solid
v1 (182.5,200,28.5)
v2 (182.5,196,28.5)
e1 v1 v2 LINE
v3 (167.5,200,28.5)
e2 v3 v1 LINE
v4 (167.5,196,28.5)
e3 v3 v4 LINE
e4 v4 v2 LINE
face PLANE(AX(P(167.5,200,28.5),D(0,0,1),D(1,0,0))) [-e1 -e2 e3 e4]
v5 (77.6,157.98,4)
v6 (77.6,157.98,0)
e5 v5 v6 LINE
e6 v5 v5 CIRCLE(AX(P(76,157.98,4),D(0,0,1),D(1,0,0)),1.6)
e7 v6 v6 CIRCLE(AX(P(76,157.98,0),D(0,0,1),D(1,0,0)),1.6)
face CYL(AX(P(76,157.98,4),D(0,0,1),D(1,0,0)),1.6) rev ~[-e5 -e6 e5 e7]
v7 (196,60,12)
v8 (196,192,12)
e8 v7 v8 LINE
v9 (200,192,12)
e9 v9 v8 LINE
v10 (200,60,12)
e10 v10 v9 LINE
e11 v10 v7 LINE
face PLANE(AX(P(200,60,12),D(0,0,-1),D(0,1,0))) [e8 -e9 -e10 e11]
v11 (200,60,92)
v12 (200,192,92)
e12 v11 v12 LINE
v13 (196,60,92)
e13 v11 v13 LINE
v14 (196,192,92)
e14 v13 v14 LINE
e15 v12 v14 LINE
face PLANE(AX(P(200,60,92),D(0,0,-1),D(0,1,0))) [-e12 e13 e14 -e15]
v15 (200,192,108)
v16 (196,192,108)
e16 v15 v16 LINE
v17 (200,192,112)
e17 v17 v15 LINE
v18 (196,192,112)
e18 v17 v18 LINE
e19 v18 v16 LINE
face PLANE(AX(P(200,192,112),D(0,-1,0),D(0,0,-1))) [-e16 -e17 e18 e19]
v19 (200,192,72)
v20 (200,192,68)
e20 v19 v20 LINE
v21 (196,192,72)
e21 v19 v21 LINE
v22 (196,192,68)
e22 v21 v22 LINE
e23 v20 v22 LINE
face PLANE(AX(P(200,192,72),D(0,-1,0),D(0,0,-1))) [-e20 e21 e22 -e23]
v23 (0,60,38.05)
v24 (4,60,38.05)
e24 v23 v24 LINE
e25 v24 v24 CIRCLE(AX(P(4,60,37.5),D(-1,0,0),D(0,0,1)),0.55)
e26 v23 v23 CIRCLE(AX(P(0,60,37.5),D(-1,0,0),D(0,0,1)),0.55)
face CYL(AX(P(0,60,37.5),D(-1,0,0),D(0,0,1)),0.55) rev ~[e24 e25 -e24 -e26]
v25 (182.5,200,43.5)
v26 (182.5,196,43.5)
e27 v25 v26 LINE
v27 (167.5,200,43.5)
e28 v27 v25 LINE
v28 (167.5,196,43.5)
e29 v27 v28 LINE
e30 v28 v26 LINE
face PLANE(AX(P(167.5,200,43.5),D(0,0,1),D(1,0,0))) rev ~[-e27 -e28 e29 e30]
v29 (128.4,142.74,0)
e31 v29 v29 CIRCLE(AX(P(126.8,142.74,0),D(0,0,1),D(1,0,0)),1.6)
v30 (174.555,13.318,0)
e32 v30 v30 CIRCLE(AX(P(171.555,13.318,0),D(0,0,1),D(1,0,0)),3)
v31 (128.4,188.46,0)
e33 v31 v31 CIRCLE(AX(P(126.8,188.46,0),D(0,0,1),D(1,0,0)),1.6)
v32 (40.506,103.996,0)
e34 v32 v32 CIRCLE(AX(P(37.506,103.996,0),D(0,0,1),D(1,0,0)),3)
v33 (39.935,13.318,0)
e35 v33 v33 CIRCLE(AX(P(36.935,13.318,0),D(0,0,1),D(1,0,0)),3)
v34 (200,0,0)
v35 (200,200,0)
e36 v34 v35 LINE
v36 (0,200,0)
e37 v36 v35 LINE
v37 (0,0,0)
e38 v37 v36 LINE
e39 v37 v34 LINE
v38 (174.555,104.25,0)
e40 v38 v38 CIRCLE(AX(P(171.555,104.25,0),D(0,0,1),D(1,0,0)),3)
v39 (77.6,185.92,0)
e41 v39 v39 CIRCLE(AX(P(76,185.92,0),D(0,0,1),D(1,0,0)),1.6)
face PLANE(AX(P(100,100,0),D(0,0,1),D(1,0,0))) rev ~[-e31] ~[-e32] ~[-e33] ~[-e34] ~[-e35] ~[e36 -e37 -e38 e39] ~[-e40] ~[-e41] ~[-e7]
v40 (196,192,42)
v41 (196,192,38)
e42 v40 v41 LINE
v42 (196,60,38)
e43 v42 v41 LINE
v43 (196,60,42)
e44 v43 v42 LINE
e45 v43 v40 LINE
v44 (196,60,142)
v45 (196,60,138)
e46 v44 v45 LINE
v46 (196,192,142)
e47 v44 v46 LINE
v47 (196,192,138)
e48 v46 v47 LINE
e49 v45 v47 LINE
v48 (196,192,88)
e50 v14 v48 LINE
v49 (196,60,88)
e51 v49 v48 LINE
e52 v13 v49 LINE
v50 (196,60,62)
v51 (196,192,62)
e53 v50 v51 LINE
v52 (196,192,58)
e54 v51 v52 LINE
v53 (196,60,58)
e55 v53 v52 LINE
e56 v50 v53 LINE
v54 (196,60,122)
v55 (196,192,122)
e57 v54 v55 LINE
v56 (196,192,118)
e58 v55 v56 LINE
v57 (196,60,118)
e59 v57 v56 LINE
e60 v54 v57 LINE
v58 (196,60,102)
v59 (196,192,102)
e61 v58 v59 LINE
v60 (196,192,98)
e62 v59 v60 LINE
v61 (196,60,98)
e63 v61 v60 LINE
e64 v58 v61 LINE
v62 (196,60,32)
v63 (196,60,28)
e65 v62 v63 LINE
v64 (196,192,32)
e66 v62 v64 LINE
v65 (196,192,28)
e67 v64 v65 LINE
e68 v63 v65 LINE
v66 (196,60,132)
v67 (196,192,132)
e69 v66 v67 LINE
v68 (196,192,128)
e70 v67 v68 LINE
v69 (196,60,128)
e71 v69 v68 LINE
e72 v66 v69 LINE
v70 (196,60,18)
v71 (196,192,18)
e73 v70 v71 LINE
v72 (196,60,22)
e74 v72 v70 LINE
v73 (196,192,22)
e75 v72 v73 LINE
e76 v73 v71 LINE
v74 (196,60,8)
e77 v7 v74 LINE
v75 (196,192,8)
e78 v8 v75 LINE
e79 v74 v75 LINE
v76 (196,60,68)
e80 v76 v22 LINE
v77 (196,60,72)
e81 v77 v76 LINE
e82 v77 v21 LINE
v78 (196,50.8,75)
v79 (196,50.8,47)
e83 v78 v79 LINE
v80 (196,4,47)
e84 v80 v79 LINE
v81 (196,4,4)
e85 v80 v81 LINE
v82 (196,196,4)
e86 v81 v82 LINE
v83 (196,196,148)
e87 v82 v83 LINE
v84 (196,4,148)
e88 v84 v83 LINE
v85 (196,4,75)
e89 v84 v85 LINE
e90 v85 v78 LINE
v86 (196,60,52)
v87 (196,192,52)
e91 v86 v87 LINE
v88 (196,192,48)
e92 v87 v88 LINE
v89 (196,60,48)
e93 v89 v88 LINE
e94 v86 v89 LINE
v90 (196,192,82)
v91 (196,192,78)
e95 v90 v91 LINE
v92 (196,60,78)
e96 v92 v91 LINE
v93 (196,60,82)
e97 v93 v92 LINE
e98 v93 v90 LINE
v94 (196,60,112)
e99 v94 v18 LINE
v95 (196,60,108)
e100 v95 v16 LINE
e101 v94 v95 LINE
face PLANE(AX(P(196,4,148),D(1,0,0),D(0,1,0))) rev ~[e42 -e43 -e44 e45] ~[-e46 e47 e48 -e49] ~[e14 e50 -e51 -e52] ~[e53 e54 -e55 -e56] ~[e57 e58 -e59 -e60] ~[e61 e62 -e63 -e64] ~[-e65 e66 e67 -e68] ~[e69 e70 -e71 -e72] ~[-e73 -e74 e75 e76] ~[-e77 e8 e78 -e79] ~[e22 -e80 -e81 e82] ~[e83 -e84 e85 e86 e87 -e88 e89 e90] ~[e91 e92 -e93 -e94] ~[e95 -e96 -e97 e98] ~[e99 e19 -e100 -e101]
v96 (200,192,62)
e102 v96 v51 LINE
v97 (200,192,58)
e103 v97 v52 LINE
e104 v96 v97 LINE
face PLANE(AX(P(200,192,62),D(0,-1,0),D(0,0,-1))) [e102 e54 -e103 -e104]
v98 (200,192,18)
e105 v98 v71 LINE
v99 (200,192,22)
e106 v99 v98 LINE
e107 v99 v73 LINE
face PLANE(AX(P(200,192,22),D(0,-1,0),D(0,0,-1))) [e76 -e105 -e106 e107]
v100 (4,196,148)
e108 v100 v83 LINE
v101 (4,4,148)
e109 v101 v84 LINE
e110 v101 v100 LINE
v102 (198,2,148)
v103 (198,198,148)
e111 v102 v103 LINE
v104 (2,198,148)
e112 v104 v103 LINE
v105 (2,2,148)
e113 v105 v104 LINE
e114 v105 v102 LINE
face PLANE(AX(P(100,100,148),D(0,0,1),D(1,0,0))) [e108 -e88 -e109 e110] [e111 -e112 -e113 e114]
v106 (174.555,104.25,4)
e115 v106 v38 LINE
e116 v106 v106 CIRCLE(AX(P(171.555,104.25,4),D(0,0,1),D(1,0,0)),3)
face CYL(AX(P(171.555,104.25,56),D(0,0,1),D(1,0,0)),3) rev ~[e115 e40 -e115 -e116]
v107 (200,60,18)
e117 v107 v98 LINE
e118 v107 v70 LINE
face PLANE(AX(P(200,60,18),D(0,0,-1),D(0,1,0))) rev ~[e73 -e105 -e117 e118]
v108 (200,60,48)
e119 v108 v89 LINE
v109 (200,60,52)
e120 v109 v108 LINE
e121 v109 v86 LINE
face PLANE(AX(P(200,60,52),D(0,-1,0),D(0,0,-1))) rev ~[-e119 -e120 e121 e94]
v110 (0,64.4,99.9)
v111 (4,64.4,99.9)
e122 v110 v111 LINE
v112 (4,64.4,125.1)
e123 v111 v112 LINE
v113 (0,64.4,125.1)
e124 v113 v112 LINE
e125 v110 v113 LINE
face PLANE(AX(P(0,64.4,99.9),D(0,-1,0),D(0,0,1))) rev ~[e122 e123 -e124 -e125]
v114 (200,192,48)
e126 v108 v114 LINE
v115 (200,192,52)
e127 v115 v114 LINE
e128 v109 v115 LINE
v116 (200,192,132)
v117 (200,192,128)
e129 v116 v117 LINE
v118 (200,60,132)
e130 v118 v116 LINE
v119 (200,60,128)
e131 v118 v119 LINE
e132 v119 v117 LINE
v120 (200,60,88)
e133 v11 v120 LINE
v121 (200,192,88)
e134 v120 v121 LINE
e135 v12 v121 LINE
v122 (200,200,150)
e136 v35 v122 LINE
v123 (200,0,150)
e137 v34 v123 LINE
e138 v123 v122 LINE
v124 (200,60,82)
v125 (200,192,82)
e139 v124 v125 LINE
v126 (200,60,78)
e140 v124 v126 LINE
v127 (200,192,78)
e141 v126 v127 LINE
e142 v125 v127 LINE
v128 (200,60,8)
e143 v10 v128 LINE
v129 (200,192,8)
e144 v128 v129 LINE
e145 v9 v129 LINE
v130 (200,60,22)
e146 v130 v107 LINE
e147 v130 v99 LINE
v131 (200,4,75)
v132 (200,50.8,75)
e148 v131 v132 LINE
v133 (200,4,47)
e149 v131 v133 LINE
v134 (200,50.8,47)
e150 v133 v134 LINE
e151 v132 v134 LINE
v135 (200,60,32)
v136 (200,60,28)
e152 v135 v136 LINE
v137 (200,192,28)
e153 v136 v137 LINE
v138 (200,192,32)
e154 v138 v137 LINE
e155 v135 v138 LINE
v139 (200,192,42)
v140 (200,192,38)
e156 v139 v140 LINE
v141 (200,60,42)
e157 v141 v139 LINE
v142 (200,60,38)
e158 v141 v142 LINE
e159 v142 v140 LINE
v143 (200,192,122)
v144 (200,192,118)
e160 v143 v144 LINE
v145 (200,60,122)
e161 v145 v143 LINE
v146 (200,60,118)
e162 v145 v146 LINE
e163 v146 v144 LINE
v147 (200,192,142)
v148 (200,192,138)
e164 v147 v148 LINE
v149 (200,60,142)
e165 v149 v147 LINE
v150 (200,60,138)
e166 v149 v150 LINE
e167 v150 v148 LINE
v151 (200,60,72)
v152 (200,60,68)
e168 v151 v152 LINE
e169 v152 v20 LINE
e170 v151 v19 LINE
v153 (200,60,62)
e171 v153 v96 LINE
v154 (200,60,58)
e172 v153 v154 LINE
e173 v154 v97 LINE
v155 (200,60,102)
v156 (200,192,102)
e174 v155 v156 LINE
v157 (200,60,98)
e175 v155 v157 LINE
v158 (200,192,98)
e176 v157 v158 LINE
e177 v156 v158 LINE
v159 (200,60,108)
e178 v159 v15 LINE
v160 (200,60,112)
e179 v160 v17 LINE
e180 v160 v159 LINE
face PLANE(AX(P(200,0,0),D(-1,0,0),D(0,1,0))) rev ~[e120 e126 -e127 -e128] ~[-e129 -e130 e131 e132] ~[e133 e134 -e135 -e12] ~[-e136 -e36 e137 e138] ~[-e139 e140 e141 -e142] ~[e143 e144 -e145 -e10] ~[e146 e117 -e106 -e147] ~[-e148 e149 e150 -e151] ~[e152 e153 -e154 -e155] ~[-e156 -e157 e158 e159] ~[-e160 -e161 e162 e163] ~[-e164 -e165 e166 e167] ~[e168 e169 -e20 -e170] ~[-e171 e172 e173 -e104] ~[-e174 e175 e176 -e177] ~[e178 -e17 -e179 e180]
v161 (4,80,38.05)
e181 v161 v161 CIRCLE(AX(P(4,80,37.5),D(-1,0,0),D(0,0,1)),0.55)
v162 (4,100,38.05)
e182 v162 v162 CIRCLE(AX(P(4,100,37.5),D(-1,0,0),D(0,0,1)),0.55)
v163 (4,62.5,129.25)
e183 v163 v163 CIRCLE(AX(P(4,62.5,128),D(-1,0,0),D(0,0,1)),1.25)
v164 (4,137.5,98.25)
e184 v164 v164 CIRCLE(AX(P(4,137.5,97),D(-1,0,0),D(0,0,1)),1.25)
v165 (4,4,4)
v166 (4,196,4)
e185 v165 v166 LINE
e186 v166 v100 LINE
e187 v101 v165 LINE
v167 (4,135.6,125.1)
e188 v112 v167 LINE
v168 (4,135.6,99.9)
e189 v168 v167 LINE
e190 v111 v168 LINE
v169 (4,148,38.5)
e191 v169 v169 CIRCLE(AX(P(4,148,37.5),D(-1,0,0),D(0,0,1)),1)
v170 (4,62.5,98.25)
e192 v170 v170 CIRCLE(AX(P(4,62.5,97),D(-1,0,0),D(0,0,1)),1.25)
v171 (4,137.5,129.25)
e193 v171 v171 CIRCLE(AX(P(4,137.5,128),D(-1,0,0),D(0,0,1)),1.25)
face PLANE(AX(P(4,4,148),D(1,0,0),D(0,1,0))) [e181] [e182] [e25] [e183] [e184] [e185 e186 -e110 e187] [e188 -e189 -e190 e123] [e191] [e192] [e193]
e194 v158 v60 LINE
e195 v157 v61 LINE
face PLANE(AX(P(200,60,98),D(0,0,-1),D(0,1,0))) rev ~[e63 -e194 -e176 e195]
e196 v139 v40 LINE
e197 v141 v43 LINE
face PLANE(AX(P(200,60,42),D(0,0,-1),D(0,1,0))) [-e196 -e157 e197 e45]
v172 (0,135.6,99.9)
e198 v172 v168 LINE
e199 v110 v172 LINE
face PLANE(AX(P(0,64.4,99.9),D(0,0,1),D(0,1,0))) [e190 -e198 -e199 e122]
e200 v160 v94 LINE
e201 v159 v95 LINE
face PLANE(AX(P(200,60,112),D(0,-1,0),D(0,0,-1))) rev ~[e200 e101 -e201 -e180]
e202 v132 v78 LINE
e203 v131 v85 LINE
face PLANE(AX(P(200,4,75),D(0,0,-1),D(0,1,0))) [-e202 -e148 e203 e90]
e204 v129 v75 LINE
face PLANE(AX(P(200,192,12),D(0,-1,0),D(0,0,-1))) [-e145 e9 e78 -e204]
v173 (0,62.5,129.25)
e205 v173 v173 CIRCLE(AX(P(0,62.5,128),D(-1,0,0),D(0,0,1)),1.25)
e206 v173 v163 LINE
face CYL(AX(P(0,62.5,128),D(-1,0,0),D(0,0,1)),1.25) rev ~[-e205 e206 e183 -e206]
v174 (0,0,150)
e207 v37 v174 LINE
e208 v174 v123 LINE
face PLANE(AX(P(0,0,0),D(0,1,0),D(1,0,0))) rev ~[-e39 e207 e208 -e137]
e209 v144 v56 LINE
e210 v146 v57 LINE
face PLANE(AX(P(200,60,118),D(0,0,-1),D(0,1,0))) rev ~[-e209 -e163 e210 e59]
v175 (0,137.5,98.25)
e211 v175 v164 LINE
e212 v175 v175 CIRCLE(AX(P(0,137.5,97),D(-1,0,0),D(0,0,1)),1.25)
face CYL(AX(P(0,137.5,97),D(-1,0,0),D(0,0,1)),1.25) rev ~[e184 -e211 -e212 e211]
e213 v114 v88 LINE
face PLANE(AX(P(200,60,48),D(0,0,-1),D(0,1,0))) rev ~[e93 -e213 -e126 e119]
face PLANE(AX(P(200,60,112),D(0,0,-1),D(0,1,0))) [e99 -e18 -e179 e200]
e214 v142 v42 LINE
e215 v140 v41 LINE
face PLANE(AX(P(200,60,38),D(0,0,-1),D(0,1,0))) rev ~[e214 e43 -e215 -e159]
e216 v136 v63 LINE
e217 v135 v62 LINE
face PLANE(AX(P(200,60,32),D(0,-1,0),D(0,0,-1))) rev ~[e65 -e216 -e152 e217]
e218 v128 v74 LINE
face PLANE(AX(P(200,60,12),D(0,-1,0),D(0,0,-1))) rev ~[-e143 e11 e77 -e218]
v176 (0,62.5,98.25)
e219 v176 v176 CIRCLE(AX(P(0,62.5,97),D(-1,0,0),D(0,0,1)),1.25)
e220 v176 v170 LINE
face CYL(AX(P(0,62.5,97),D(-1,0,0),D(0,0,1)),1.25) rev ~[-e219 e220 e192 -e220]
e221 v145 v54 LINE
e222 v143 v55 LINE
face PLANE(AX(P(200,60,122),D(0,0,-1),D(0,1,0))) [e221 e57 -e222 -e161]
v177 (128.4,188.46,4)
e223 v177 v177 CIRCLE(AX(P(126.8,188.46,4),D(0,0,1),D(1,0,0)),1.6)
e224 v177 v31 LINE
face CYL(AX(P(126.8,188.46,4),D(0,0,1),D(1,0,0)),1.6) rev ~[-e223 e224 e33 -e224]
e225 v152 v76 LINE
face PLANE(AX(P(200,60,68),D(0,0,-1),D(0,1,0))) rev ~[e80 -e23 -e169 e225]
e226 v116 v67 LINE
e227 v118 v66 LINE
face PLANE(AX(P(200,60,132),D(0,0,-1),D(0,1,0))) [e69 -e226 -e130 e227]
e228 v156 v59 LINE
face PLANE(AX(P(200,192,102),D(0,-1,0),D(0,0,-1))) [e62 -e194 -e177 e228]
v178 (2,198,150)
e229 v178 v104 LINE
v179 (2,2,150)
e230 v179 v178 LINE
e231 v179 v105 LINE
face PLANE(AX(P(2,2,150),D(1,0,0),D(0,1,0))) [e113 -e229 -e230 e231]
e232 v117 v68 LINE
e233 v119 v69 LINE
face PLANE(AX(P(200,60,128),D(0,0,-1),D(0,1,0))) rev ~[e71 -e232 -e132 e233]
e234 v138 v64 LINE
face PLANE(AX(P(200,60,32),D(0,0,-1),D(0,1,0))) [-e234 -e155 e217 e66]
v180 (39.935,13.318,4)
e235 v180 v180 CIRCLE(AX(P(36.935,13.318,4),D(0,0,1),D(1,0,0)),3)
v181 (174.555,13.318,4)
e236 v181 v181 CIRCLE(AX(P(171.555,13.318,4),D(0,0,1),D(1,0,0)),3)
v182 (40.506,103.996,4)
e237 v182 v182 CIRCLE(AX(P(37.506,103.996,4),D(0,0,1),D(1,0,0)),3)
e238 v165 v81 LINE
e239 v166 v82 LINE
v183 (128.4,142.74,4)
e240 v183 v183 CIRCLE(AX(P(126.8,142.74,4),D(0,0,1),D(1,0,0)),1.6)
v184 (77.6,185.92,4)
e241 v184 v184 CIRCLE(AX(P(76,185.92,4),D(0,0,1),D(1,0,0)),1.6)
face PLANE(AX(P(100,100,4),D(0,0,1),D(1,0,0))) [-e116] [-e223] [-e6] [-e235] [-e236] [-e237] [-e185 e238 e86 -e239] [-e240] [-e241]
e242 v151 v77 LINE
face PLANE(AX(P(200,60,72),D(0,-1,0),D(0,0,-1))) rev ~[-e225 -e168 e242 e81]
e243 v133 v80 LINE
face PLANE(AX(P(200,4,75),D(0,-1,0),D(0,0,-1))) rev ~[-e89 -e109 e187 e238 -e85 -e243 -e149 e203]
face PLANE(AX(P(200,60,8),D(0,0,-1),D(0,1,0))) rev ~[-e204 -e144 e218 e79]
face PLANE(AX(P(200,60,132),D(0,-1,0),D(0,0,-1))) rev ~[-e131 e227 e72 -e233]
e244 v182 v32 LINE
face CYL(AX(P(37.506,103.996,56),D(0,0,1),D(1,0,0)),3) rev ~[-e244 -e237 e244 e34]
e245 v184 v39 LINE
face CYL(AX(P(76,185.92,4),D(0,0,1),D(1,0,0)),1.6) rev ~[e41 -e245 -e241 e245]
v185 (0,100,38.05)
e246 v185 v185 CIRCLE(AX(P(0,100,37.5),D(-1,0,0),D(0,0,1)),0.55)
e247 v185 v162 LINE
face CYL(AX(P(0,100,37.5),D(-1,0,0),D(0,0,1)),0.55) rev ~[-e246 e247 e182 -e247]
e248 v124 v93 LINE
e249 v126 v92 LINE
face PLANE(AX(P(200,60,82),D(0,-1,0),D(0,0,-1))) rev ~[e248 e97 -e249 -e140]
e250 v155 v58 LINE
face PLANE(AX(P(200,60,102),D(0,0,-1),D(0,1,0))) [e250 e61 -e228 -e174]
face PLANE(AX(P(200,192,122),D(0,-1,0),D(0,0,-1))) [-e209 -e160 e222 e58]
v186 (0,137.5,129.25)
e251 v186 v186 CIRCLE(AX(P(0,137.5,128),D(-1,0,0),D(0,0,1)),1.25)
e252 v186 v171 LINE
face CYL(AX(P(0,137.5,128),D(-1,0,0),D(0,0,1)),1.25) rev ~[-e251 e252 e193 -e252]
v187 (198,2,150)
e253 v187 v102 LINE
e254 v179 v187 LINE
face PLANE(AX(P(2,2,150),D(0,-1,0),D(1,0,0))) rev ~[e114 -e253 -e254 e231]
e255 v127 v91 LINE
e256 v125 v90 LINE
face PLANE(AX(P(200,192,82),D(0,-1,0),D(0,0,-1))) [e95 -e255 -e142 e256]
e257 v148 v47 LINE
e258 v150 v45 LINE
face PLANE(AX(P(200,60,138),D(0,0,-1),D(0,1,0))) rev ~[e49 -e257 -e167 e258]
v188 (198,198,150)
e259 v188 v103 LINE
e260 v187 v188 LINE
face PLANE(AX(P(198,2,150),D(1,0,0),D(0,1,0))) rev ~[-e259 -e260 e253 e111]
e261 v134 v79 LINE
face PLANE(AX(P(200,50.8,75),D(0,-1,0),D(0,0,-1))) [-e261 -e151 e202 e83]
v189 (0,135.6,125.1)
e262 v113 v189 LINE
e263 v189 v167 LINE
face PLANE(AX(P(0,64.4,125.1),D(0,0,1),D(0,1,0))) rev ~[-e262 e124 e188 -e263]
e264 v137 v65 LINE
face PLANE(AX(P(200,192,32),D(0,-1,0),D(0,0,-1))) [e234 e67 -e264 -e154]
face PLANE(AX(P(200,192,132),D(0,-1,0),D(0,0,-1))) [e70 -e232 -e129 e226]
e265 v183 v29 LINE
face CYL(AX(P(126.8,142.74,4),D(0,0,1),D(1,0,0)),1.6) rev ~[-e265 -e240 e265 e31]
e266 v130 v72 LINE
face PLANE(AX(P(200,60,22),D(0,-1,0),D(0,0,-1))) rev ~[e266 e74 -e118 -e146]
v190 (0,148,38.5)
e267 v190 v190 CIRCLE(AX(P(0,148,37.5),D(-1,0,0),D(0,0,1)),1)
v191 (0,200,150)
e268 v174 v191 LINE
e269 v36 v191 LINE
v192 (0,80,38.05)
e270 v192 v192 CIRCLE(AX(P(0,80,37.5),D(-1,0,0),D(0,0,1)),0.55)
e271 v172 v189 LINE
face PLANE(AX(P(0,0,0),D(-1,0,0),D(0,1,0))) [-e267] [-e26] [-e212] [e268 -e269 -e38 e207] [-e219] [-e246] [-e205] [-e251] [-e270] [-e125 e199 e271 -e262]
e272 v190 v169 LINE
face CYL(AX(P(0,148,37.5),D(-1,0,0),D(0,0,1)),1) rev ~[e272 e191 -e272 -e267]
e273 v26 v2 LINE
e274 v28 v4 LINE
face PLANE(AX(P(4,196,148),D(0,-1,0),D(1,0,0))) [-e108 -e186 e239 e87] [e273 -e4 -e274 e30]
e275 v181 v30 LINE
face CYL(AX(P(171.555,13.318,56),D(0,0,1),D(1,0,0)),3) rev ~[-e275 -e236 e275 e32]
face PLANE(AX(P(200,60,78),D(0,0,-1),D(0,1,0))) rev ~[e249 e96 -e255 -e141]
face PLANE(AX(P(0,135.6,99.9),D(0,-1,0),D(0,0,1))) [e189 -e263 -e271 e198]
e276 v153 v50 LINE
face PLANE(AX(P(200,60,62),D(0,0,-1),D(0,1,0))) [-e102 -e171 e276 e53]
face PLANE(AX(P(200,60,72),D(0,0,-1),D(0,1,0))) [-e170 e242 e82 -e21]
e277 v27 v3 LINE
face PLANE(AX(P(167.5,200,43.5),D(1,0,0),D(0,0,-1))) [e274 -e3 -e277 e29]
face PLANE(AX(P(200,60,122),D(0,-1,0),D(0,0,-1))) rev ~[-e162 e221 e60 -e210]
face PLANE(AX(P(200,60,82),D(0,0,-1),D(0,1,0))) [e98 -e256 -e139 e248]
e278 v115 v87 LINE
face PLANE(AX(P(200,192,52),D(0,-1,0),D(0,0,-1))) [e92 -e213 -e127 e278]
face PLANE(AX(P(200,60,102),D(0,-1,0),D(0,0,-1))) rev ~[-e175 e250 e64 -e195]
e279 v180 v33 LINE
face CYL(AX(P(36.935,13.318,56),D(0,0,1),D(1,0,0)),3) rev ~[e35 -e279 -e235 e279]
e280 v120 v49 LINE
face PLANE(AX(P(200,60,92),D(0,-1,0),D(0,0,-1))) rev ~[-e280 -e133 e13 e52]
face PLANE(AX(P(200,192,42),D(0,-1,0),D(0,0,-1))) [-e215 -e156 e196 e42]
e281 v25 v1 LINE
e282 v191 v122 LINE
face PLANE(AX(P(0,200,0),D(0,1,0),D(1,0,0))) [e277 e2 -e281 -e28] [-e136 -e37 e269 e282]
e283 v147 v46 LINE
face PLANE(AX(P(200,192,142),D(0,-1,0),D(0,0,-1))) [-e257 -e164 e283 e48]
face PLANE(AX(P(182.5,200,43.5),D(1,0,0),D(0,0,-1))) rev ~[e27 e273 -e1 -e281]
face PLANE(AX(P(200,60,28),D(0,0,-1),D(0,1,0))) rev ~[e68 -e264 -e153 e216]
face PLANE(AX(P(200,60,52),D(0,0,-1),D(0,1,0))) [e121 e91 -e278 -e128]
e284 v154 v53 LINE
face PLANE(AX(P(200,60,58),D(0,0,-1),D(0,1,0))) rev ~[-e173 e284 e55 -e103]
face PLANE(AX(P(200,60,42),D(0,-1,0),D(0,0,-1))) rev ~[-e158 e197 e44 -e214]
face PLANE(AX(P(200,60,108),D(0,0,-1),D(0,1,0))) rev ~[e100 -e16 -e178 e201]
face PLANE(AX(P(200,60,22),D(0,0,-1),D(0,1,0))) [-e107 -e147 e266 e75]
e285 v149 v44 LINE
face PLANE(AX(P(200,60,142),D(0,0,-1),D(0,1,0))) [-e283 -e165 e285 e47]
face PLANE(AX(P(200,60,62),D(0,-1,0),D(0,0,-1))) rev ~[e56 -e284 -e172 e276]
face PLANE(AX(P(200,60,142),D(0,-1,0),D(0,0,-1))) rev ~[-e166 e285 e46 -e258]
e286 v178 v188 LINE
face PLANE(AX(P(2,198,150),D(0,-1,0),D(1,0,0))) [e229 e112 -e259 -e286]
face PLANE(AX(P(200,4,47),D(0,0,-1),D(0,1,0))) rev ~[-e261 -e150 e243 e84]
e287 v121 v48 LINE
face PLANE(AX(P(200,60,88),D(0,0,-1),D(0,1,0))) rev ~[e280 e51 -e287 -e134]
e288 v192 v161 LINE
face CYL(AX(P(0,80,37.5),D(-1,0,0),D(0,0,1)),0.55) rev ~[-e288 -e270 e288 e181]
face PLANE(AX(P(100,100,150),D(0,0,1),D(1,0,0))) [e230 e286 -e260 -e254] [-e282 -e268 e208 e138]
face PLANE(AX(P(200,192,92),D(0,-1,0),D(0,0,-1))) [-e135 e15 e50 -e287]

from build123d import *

# Parameters (mm, degrees)
SKETCH4_W                = 200
SKETCH4_H                = 200
BOSS_EXTRUDE1_DEPTH      = 150
SKETCH6_W                = 196
SKETCH6_H                = 196
CUT_EXTRUDE1_DEPTH       = 2
SKETCH7_W                = 192
SKETCH7_H                = 192
CUT_EXTRUDE2_DEPTH       = 92
SKETCH9_W                = 28
SKETCH9_H                = 46.8
INLET_DEPTH              = 4
SKETCH13_W               = 4
SKETCH13_H               = 132
AIRFLOW_DEPTH            = 4
SKETCH11_W               = 25.2
SKETCH11_H               = 71.2
CUT_EXTRUDE5_DEPTH       = 4
SKETCH11_4_R             = 1.25
LCD_MOUNTING_DEPTH       = 4
SKETCH12_R               = 0.55
SKETCH12_R_2             = 1
POST_KNOB_MOUNTING_DEPTH = 4
SKETCH14_R               = 3
CUT_EXTRUDE10_DEPTH      = 56
SKETCH17_W               = 192
SKETCH17_H               = 192
CUT_EXTRUDE11_DEPTH      = 52
SKETCH18_R               = 1.6
CUT_EXTRUDE12_DEPTH      = 4
SKETCH20_W               = 15
SKETCH20_H               = 15
CUT_EXTRUDE13_DEPTH      = 4


with BuildPart() as part:
    # Sketch4 → Boss-Extrude1 (new body)
    with BuildSketch(Plane.XY):
        with Locations((100, 100)):
            Rectangle(SKETCH4_W, SKETCH4_H)
    extrude(amount=BOSS_EXTRUDE1_DEPTH)

    # Sketch6 → Cut-Extrude1 (cut)
    with BuildSketch(Plane.XY.offset(150)):
        with Locations((100, 100)):
            Rectangle(SKETCH6_W, SKETCH6_H)
    extrude(amount=-CUT_EXTRUDE1_DEPTH, mode=Mode.SUBTRACT)

    # Sketch7 → Cut-Extrude2 (cut)
    with BuildSketch(Plane.XY.offset(148)):
        with Locations((100, 100)):
            Rectangle(SKETCH7_W, SKETCH7_H)
    extrude(amount=-CUT_EXTRUDE2_DEPTH, mode=Mode.SUBTRACT)

    # Sketch9 → Inlet (cut)
    with BuildSketch(Plane(origin=(200, 0, 0), x_dir=(0, 0, -1), z_dir=(1, 0, 0))):
        with Locations((-61, 27.4)):
            Rectangle(SKETCH9_W, SKETCH9_H)
    extrude(amount=-INLET_DEPTH, mode=Mode.SUBTRACT)

    # Sketch13 → Airflow (cut)
    with BuildSketch(Plane(origin=(200, 0, 0), x_dir=(0, 0, -1), z_dir=(1, 0, 0))):
        with Locations((-10, 126)):
            Rectangle(SKETCH13_W, SKETCH13_H)
        with Locations((-20, 126)):
            Rectangle(SKETCH13_W, SKETCH13_H)
        with Locations((-30, 126)):
            Rectangle(SKETCH13_W, SKETCH13_H)
        with Locations((-40, 126)):
            Rectangle(SKETCH13_W, SKETCH13_H)
        with Locations((-50, 126)):
            Rectangle(SKETCH13_W, SKETCH13_H)
        with Locations((-60, 126)):
            Rectangle(SKETCH13_W, SKETCH13_H)
        with Locations((-70, 126)):
            Rectangle(SKETCH13_W, SKETCH13_H)
        with Locations((-80, 126)):
            Rectangle(SKETCH13_W, SKETCH13_H)
        with Locations((-90, 126)):
            Rectangle(SKETCH13_W, SKETCH13_H)
        with Locations((-100, 126)):
            Rectangle(SKETCH13_W, SKETCH13_H)
        with Locations((-110, 126)):
            Rectangle(SKETCH13_W, SKETCH13_H)
        with Locations((-120, 126)):
            Rectangle(SKETCH13_W, SKETCH13_H)
        with Locations((-130, 126)):
            Rectangle(SKETCH13_W, SKETCH13_H)
        with Locations((-140, 126)):
            Rectangle(SKETCH13_W, SKETCH13_H)
    extrude(amount=-AIRFLOW_DEPTH, mode=Mode.SUBTRACT)

    # Sketch11 → Cut-Extrude5 (cut)
    with BuildSketch(Plane.ZY):
        with Locations((112.5, 100)):
            Rectangle(SKETCH11_W, SKETCH11_H)
    extrude(amount=-CUT_EXTRUDE5_DEPTH, mode=Mode.SUBTRACT)

    # Sketch11<4> → LCD/Mounting (cut)
    with BuildSketch(Plane.ZY):
        with Locations((128, 137.5)):
            Circle(SKETCH11_4_R)
        with Locations((97, 137.5)):
            Circle(SKETCH11_4_R)
        with Locations((97, 62.5)):
            Circle(SKETCH11_4_R)
        with Locations((128, 62.5)):
            Circle(SKETCH11_4_R)
    extrude(amount=-LCD_MOUNTING_DEPTH, mode=Mode.SUBTRACT)

    # Sketch12 → Post/Knob Mounting (cut)
    with BuildSketch(Plane.ZY):
        with Locations((37.5, 100)):
            Circle(SKETCH12_R)
        with Locations((37.5, 80)):
            Circle(SKETCH12_R)
        with Locations((37.5, 60)):
            Circle(SKETCH12_R)
        with Locations((37.5, 148)):
            Circle(SKETCH12_R_2)
    extrude(amount=-POST_KNOB_MOUNTING_DEPTH, mode=Mode.SUBTRACT)

    # Sketch14 → Cut-Extrude10 (cut)
    with BuildSketch(Plane.XY.offset(56)):
        with Locations((37.506, 103.996)):
            Circle(SKETCH14_R)
        with Locations((171.555, 104.25)):
            Circle(SKETCH14_R)
        with Locations((36.935, 13.318)):
            Circle(SKETCH14_R)
        with Locations((171.555, 13.318)):
            Circle(SKETCH14_R)
    extrude(amount=-CUT_EXTRUDE10_DEPTH, mode=Mode.SUBTRACT)

    # Sketch17 → Cut-Extrude11 (cut)
    with BuildSketch(Plane.XY.offset(56)):
        with Locations((100, 100)):
            Rectangle(SKETCH17_W, SKETCH17_H)
    extrude(amount=-CUT_EXTRUDE11_DEPTH, mode=Mode.SUBTRACT)

    # Sketch18 → Cut-Extrude12 (cut)
    with BuildSketch(Plane.XY.offset(4)):
        with Locations((126.8, 188.46)):
            Circle(SKETCH18_R)
        with Locations((126.8, 142.74)):
            Circle(SKETCH18_R)
        with Locations((76, 157.98)):
            Circle(SKETCH18_R)
        with Locations((76, 185.92)):
            Circle(SKETCH18_R)
    extrude(amount=-CUT_EXTRUDE12_DEPTH, mode=Mode.SUBTRACT)

    # Sketch20 → Cut-Extrude13 (cut)
    with BuildSketch(Plane(origin=(0, 200, 0), x_dir=(1, 0, 0), z_dir=(0, 1, 0))):
        with Locations((175, -36)):
            Rectangle(SKETCH20_W, SKETCH20_H)
    extrude(amount=-CUT_EXTRUDE13_DEPTH, mode=Mode.SUBTRACT)


solid = part.part
